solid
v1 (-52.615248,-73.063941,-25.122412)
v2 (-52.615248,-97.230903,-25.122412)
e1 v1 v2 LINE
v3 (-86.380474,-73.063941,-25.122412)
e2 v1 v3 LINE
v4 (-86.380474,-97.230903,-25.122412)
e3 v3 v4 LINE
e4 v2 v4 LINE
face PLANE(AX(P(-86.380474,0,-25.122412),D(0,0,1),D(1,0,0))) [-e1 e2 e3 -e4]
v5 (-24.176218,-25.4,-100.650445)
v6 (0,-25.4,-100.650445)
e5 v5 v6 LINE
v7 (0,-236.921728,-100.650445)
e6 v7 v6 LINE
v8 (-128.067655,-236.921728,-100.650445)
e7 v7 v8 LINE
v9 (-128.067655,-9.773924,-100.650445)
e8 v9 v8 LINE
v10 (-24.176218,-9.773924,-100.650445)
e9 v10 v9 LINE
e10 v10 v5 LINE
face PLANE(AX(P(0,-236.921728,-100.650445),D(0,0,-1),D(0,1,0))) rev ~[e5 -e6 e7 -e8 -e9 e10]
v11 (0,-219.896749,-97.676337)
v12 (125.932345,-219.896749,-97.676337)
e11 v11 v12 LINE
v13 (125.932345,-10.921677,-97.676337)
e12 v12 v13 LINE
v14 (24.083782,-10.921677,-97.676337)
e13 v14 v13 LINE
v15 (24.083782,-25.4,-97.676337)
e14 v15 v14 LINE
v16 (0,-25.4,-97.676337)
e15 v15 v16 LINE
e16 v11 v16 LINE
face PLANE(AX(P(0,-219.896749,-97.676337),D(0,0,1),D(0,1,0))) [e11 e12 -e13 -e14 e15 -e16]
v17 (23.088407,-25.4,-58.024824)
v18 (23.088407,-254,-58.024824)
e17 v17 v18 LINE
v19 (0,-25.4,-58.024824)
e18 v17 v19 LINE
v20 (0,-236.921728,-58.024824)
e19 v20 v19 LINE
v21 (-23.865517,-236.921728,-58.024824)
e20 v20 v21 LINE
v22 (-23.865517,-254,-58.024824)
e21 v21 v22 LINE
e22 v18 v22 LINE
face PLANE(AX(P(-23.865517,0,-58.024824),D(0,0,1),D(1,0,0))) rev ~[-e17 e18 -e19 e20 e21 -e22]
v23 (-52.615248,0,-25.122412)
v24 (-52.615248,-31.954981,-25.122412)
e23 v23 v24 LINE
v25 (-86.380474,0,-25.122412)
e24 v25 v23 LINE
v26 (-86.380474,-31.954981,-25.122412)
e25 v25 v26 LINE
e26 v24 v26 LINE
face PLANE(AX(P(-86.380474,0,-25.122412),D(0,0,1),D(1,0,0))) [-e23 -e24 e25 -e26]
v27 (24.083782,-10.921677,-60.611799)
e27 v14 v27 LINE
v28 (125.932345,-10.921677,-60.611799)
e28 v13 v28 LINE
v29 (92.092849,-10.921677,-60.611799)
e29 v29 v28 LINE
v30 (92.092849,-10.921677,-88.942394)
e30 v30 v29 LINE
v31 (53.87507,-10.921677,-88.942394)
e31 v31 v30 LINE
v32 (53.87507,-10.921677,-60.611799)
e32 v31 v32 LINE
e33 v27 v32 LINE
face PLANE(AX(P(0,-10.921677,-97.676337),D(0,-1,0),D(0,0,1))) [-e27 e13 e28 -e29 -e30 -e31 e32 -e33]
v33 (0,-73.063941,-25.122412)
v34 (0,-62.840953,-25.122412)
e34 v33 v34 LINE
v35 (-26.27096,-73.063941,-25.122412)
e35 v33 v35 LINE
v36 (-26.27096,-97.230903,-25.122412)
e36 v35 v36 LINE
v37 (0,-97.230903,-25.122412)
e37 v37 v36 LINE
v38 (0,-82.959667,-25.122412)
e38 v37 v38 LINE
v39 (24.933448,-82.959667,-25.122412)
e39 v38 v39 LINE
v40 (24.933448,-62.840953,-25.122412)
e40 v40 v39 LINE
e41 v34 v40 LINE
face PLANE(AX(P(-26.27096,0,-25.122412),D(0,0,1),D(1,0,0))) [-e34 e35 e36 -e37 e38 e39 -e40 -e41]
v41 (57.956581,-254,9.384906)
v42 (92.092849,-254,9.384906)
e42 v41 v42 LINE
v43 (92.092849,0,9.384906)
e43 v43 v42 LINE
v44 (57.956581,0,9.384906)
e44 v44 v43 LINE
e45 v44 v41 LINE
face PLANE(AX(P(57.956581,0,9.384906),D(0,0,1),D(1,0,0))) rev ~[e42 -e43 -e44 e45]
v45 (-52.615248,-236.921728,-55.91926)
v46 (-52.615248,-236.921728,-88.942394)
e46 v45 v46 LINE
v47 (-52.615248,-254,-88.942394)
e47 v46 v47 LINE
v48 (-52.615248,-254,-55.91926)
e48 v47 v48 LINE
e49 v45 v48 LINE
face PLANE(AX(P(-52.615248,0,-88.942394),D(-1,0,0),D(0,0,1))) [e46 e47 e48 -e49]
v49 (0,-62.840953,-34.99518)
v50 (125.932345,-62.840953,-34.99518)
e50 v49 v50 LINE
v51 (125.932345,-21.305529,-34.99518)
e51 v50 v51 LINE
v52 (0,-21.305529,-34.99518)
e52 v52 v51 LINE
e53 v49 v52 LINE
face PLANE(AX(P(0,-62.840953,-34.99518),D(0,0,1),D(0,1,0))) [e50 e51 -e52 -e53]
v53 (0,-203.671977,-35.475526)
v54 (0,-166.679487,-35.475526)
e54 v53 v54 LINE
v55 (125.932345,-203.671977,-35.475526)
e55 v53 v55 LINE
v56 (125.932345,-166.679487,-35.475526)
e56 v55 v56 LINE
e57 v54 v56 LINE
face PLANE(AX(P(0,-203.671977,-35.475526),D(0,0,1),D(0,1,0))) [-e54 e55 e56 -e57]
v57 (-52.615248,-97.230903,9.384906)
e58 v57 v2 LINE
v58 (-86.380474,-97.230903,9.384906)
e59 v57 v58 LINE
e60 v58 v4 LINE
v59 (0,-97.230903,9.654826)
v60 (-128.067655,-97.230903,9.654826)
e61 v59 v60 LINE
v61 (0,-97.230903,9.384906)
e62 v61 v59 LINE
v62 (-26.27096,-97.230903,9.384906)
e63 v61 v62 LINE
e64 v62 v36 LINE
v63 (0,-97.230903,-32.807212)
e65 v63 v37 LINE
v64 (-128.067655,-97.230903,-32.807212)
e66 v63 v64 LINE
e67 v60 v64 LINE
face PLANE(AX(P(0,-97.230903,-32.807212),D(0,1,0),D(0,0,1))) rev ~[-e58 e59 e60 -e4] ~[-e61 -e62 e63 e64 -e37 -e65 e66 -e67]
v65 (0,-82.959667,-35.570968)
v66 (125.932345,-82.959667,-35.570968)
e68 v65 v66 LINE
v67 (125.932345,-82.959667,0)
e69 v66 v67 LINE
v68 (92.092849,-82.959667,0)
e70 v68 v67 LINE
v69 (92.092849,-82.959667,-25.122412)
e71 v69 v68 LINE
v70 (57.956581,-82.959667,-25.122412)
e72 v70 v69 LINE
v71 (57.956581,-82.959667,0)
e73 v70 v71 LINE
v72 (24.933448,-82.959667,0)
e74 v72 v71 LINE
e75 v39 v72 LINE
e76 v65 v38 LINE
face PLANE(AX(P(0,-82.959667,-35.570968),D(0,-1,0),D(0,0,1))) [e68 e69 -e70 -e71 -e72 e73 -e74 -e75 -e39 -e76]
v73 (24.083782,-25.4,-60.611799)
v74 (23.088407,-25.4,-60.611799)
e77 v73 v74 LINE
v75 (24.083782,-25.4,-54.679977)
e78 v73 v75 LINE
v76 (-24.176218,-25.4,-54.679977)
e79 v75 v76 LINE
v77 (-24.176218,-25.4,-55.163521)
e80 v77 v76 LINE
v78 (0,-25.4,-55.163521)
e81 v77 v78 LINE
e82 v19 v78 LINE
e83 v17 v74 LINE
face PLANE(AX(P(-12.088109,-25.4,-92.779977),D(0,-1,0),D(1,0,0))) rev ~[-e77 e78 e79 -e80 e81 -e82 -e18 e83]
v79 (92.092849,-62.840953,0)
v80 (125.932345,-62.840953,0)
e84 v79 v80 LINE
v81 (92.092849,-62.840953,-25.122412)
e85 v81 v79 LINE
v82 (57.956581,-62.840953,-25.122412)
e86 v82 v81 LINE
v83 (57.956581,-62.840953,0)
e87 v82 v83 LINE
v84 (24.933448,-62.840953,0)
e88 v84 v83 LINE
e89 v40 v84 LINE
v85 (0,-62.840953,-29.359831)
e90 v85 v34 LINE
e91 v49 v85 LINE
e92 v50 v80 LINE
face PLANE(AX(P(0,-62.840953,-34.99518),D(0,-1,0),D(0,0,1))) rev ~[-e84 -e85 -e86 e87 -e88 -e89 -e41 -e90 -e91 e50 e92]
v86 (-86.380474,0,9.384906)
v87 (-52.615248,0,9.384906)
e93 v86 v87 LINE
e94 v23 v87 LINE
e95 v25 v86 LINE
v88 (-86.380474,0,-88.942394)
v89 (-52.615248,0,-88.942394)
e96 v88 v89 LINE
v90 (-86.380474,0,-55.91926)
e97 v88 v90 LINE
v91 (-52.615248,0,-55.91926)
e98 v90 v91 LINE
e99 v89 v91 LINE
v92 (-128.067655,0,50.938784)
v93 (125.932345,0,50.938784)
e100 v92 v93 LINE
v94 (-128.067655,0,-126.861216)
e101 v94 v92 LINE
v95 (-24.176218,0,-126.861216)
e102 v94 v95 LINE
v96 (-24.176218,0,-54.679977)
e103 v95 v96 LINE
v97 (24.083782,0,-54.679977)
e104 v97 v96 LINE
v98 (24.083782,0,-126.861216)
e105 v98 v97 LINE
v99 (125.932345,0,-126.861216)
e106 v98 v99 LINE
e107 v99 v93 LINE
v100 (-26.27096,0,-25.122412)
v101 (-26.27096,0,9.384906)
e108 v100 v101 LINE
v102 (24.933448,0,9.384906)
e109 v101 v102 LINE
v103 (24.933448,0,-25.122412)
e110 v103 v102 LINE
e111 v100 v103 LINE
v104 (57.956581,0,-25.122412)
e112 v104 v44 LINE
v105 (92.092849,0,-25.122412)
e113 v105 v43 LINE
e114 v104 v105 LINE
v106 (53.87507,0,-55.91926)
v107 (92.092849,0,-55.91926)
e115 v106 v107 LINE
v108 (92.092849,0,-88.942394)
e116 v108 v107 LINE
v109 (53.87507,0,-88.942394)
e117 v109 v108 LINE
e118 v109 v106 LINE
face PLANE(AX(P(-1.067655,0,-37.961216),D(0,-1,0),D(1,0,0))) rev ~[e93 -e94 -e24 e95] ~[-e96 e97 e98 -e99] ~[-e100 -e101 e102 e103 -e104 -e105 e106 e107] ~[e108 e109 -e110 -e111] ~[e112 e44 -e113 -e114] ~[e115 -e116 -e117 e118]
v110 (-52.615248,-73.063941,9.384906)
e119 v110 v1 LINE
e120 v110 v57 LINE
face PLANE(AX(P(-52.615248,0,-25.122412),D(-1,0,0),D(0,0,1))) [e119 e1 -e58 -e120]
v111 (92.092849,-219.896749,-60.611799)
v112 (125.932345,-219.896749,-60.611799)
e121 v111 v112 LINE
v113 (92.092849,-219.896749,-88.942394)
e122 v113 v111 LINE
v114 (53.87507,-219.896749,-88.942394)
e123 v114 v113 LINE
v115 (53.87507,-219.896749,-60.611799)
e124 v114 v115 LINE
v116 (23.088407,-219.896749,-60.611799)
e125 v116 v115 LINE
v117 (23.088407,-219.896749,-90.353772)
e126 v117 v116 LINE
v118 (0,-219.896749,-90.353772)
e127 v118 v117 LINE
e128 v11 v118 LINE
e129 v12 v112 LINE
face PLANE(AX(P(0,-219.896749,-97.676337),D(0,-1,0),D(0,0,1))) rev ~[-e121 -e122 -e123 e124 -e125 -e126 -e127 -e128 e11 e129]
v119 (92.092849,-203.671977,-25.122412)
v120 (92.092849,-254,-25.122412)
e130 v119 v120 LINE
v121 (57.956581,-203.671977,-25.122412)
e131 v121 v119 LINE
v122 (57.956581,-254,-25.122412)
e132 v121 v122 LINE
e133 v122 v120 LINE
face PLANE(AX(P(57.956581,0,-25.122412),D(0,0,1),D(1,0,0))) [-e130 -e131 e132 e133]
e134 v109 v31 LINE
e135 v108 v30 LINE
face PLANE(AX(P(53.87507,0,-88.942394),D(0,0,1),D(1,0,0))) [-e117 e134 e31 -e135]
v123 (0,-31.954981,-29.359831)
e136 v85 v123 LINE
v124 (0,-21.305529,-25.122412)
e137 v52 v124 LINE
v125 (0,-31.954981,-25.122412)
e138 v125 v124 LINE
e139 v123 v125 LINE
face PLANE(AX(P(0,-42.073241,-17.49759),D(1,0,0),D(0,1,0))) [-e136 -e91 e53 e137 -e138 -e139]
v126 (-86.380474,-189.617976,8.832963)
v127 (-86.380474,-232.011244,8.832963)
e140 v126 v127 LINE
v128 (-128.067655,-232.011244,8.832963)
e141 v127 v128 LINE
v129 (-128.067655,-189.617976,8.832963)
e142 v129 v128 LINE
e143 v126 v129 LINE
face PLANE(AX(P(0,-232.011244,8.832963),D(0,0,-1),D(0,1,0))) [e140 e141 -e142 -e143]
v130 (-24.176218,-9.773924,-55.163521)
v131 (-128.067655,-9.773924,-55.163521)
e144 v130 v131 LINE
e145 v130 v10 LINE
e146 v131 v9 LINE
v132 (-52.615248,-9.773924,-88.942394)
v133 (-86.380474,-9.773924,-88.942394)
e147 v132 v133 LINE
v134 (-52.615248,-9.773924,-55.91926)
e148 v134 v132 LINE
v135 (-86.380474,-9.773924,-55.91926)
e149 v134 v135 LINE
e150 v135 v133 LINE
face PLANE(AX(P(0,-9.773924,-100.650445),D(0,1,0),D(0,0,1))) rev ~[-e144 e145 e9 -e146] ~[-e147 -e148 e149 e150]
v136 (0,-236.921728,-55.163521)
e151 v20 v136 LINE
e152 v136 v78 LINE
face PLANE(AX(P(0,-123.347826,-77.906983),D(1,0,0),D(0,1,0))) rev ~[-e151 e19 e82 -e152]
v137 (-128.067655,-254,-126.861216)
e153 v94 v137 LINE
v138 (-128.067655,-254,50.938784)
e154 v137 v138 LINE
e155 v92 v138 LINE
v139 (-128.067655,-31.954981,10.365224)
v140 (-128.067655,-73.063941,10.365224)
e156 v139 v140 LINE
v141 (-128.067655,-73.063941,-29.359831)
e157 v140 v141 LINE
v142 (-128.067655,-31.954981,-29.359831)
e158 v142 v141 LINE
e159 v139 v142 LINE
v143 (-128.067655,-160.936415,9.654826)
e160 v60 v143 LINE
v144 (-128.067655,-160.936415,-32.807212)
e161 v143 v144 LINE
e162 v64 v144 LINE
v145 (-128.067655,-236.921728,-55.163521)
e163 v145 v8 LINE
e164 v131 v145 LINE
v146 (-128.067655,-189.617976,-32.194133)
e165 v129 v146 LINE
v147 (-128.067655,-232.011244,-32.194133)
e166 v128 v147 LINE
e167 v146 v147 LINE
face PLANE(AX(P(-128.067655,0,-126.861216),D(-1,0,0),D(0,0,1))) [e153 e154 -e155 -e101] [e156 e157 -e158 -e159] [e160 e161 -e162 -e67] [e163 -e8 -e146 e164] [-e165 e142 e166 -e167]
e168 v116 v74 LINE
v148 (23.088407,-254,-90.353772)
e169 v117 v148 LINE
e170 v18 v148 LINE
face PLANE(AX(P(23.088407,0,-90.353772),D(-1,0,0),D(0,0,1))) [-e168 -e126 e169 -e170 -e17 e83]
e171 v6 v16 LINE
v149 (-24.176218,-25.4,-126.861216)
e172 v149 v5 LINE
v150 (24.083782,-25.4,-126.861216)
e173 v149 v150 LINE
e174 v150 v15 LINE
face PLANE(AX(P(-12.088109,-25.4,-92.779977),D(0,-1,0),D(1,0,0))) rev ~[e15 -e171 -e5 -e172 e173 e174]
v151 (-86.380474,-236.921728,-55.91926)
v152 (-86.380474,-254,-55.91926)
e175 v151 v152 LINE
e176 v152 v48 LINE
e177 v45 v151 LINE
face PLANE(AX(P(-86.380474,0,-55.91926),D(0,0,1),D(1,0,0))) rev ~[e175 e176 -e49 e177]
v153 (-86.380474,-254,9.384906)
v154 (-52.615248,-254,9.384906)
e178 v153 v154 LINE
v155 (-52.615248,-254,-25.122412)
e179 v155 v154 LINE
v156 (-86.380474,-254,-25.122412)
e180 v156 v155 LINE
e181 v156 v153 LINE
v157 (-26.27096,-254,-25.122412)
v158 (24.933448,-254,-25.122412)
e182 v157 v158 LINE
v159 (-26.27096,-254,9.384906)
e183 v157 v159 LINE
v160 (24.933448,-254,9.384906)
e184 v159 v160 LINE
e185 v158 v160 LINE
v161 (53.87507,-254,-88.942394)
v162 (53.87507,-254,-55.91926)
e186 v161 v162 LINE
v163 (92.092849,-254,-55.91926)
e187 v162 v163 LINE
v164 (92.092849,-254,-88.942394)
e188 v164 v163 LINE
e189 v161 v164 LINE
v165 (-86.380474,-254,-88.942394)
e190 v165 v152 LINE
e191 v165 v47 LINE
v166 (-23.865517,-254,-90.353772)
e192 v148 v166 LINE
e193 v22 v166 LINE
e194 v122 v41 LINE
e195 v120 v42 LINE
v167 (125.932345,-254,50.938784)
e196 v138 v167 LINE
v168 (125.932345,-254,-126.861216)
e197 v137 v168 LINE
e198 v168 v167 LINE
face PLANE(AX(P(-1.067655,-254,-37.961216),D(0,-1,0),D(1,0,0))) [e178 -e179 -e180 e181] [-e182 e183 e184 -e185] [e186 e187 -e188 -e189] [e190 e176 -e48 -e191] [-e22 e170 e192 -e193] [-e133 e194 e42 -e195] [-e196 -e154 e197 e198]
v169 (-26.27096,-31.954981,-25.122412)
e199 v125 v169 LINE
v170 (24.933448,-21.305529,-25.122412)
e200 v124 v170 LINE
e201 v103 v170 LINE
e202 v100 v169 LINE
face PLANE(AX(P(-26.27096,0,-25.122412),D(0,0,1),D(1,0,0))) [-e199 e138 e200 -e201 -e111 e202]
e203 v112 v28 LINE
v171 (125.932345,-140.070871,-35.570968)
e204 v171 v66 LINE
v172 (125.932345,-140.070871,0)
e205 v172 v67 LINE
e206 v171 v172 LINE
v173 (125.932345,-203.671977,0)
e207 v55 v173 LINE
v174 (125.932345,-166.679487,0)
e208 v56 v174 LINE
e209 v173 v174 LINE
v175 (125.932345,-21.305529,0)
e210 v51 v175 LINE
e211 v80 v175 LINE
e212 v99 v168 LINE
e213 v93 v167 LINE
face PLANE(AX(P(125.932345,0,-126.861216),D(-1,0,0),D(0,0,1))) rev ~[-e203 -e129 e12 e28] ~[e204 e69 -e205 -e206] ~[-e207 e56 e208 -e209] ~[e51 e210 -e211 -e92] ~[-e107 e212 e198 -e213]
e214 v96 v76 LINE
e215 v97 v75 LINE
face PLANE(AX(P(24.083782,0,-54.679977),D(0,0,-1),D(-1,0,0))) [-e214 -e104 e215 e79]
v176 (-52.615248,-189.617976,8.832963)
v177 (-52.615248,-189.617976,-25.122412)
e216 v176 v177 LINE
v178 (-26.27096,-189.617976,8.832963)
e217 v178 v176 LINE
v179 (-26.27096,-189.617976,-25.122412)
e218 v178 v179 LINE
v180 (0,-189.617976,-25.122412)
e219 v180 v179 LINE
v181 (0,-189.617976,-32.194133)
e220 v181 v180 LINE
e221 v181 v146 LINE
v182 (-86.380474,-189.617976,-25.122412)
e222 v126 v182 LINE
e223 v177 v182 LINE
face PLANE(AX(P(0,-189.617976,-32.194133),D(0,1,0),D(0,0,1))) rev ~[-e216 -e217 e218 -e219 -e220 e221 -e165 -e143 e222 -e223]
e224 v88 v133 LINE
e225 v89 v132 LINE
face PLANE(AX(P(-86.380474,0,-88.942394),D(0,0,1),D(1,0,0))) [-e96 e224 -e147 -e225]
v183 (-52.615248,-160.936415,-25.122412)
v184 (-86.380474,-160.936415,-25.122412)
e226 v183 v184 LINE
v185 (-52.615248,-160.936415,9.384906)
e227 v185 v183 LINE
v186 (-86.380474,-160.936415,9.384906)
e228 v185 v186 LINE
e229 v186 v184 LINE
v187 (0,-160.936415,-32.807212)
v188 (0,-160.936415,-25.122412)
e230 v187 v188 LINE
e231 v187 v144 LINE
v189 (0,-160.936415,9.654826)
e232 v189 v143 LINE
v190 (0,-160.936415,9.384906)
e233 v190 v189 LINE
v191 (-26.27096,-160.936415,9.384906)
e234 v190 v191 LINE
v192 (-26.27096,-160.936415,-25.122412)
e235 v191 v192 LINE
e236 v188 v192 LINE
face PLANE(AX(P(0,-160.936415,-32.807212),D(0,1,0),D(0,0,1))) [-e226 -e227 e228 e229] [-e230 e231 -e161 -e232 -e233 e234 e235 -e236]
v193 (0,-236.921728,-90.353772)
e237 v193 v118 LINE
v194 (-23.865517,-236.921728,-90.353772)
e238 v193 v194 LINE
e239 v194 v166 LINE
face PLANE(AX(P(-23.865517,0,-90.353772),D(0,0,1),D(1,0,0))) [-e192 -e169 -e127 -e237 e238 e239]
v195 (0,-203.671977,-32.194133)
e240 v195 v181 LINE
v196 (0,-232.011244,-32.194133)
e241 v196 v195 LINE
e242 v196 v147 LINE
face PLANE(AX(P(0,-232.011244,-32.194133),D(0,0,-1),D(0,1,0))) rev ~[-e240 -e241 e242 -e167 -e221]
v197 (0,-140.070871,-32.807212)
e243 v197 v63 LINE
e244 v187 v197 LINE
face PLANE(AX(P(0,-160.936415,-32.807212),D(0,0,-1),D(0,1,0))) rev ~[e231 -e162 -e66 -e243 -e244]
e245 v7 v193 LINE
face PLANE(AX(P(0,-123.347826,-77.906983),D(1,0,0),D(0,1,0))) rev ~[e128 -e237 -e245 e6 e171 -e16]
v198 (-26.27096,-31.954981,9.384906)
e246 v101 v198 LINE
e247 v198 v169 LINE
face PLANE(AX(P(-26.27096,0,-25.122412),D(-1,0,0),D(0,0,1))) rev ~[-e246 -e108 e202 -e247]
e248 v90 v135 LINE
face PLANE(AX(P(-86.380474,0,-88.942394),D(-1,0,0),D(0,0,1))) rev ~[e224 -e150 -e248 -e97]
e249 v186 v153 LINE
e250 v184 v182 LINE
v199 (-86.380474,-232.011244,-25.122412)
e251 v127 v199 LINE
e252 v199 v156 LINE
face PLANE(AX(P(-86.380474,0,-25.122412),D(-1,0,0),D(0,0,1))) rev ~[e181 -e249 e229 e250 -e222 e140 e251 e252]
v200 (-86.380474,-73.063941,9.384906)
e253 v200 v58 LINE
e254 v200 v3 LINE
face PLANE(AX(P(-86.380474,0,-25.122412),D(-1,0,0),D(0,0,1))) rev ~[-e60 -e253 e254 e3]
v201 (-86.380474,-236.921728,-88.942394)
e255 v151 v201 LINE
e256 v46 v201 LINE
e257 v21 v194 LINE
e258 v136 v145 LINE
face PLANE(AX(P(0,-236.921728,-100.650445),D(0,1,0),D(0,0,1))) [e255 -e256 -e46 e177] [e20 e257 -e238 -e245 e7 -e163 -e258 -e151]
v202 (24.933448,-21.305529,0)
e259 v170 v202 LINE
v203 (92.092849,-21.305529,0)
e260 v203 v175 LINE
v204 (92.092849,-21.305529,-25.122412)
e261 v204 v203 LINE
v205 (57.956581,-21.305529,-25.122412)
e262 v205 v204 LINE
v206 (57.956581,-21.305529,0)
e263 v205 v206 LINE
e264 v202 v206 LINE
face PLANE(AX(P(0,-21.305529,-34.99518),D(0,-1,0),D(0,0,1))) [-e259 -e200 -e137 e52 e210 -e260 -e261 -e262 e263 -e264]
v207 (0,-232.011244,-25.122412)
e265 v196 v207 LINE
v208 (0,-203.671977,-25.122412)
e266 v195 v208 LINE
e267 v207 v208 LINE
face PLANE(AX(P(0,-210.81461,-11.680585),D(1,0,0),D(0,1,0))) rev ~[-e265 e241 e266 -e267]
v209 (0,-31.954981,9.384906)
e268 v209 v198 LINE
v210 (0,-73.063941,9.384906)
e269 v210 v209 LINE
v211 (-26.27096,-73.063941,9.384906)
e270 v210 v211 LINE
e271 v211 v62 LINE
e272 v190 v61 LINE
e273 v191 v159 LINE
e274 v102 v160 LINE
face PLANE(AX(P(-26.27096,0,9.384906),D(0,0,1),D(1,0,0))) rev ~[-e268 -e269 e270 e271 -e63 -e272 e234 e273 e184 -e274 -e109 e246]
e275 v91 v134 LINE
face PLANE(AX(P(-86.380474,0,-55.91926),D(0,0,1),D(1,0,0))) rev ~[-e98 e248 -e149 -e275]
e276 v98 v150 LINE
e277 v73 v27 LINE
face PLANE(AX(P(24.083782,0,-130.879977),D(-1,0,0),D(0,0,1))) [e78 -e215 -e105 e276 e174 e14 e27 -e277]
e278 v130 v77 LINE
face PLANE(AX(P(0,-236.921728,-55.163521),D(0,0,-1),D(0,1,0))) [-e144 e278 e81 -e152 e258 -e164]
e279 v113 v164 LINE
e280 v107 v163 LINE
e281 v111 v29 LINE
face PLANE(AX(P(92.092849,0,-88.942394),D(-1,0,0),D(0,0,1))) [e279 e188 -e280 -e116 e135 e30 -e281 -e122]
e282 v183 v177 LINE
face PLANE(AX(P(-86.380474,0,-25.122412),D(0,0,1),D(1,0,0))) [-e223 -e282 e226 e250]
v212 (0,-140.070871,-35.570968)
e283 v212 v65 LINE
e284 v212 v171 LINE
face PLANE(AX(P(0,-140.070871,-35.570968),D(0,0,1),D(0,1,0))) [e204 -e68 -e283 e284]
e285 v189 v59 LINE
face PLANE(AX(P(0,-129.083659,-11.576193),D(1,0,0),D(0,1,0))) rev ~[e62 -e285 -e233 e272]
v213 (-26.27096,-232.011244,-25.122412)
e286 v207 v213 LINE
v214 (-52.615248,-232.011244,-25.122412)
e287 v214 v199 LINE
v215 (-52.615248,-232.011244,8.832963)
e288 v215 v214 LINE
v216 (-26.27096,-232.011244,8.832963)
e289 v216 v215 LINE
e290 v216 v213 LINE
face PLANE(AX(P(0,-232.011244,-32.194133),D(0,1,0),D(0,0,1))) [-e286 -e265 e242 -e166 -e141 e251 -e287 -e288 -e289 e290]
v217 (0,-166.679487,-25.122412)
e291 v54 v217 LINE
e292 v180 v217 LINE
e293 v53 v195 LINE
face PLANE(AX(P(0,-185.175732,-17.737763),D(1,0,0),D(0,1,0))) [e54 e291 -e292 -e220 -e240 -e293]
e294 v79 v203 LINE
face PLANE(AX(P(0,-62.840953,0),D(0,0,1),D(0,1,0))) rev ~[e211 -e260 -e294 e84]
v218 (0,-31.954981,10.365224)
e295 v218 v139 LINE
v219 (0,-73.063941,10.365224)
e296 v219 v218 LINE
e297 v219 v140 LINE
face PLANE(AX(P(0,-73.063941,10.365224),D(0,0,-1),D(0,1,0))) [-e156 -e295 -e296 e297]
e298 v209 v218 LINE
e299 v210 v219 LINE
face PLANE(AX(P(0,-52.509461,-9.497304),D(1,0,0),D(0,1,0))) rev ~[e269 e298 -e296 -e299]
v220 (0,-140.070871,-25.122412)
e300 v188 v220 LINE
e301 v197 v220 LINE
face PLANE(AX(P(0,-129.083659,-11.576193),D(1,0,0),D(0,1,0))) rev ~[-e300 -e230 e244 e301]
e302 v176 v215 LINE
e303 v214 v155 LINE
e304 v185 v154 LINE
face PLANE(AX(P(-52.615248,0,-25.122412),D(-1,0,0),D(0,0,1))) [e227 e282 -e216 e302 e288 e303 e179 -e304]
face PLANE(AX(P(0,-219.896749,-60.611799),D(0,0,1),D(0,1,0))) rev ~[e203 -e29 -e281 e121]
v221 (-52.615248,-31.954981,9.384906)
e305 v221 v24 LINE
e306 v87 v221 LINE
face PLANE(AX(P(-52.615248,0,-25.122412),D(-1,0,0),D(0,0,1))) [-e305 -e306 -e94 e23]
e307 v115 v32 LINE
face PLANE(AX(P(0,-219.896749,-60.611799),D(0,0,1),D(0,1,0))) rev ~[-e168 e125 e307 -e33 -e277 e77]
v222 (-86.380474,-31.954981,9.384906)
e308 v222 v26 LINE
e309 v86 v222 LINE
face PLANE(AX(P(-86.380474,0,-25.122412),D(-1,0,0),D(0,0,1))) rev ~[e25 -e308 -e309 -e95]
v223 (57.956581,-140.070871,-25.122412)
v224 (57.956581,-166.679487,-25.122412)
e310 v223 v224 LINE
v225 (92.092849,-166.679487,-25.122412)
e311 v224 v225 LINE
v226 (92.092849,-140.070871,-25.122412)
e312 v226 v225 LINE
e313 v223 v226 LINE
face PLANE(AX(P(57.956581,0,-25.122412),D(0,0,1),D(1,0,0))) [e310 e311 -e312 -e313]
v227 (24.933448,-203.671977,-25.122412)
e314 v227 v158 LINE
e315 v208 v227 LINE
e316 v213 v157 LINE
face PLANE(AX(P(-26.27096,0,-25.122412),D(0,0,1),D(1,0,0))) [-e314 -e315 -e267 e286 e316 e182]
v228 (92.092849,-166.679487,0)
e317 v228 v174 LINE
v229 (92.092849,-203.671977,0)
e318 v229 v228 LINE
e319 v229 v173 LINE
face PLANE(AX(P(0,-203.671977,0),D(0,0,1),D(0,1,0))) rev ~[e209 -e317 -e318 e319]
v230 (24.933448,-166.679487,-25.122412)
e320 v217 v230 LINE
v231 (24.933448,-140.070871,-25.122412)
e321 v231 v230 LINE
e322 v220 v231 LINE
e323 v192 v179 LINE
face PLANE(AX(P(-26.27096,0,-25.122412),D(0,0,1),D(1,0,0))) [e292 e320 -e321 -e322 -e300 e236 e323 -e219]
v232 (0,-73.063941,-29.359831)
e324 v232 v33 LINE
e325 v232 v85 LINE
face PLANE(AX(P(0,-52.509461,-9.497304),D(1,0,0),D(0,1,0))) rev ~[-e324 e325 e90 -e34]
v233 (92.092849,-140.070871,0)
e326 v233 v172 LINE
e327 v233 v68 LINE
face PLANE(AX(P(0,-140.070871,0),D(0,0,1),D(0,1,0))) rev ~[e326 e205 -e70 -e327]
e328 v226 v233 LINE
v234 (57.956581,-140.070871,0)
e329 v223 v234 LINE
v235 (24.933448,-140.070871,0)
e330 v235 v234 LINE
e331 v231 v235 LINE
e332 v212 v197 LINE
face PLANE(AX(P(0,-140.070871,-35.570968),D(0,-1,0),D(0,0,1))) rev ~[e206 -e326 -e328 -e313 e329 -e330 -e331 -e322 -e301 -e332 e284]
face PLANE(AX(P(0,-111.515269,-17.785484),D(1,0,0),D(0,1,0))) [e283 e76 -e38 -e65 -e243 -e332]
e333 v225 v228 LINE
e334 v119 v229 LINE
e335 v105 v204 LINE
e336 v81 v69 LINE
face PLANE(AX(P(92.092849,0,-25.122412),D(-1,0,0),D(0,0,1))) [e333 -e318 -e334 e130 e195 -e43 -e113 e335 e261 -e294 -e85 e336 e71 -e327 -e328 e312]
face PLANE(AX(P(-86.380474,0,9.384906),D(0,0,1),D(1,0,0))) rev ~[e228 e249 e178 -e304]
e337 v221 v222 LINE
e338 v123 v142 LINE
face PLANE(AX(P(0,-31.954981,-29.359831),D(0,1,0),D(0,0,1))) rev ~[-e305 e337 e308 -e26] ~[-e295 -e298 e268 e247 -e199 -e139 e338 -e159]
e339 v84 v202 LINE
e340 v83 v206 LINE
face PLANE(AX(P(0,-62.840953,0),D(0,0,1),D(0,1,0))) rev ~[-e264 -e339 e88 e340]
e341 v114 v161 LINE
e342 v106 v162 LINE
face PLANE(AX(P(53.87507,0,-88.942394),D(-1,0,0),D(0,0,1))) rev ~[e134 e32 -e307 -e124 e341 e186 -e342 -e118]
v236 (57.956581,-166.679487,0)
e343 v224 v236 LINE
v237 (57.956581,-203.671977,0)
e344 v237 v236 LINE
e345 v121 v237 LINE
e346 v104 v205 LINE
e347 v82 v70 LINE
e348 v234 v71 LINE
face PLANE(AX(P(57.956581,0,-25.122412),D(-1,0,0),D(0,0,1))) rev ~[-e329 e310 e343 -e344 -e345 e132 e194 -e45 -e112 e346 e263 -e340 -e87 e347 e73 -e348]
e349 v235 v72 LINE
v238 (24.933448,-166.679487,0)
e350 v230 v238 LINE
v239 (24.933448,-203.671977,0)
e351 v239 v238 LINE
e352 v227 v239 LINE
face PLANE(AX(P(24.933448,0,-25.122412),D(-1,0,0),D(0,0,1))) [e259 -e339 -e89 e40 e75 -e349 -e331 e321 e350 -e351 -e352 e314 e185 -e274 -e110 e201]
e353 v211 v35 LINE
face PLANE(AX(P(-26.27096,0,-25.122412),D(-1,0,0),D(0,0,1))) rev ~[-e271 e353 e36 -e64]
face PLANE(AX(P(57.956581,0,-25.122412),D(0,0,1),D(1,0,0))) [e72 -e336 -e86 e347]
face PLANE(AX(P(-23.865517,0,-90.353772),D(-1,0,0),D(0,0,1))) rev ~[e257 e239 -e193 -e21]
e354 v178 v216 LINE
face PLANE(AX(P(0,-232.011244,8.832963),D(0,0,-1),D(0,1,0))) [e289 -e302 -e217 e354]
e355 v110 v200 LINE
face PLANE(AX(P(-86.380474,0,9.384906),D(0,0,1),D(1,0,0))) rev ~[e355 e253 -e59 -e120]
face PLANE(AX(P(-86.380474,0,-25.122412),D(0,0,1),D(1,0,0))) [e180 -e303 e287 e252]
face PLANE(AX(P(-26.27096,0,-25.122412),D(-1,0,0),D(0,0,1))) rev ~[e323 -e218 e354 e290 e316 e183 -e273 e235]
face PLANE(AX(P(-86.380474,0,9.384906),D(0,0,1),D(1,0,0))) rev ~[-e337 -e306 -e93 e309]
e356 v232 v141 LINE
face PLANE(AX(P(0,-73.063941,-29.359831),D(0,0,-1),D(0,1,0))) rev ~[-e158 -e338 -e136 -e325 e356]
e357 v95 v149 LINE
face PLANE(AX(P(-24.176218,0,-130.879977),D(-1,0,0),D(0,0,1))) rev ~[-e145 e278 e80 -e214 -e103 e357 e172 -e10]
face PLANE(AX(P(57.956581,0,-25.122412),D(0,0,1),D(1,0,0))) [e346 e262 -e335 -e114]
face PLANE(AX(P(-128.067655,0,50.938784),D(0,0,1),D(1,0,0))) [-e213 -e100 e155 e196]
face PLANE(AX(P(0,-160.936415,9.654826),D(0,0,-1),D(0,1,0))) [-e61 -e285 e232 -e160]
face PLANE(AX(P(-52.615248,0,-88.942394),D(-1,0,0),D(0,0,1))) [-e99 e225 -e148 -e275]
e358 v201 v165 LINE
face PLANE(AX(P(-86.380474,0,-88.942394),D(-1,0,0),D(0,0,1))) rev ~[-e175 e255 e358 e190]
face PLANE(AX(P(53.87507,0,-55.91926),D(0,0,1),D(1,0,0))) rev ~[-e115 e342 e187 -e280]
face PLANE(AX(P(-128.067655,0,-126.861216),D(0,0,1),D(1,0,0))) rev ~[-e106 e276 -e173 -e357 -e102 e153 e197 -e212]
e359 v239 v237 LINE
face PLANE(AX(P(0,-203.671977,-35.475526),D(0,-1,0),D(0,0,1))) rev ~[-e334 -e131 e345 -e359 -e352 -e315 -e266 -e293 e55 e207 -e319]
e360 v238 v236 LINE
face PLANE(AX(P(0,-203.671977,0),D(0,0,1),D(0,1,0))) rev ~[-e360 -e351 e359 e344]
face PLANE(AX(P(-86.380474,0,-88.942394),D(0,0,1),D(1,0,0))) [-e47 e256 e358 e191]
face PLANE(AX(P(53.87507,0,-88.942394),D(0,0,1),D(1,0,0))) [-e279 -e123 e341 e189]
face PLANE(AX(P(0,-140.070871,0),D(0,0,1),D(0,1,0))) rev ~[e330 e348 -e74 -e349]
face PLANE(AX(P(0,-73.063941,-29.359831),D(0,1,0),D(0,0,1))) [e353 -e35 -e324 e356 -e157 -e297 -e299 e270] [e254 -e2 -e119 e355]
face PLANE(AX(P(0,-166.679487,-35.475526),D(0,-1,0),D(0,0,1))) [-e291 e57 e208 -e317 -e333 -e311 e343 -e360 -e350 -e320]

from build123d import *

# Parameters (mm, degrees)
F0_W      = 254
F0_H      = 177.8
F1_DEPTH  = 254
F2_W      = 24.176218
F2_H      = 76.2
F2_W_2    = 24.083782
F3_DEPTH  = 25.4
F4_W      = 33.765226
F4_H      = 33.023134
F4_W_2    = 38.217779
F4_W_3    = 34.136269
F4_H_2    = 34.507318
F4_W_4    = 51.204408
F5_DEPTH  = 254
F6_W      = 46.953924
F6_H      = 32.328948
F7_DEPTH  = 508
F8_W      = 227.147804
F8_H      = 45.486924
F8_W_2    = 42.393267
F8_H_2    = 41.027097
F8_W_3    = 63.705511
F8_H_3    = 42.462038
F8_W_4    = 41.108959
F8_H_4    = 39.725055
F9_DEPTH  = 254
F10_W     = 208.975072
F10_H     = 37.064538
F10_W_2   = 36.99249
F10_H_2   = 35.475526
F10_W_3   = 57.111204
F10_H_3   = 35.570968
F10_W_4   = 41.535424
F10_H_4   = 34.99518
F11_DEPTH = 127


with BuildPart() as f1:
    # F0 (on Front) → F1 (new body)
    with BuildSketch(Plane.XZ):
        with Locations((-1.067655, -37.961216)):
            Rectangle(F0_W, F0_H)
    extrude(amount=F1_DEPTH)

    # F2 (on Front) → F3 (cut)
    with BuildSketch(Plane.XZ):
        with Locations((-12.088109, -92.779977)):
            Rectangle(F2_W, F2_H)
        with Locations((12.041891, -92.779977)):
            Rectangle(F2_W_2, F2_H)
    extrude(amount=F3_DEPTH, mode=Mode.SUBTRACT)

    # F4 (on Front) → F5 (cut)
    with BuildSketch(Plane.XZ):
        with Locations((-69.497861, -72.430827)):
            Rectangle(F4_W, F4_H)
        with Locations((72.983959, -72.430827)):
            Rectangle(F4_W_2, F4_H)
        with Locations((75.024715, -7.868753)):
            Rectangle(F4_W_3, F4_H_2)
        with Locations((-69.497861, -7.868753)):
            Rectangle(F4_W, F4_H_2)
        with Locations((-0.668756, -7.868753)):
            Rectangle(F4_W_4, F4_H_2)
    extrude(amount=F5_DEPTH, mode=Mode.SUBTRACT)

    # F6 (on Front) → F7 (cut)
    with BuildSketch(Plane.XZ):
        with Locations((-0.388555, -74.189298)):
            Rectangle(F6_W, F6_H)
    extrude(amount=F7_DEPTH, mode=Mode.SUBTRACT)

    # F8 (on Right) → F9 (cut)
    with BuildSketch(Plane.YZ):
        with Locations((-123.347826, -77.906983)):
            Rectangle(F8_W, F8_H)
        with Locations((-210.81461, -11.680585)):
            Rectangle(F8_W_2, F8_H_2)
        with Locations((-129.083659, -11.576193)):
            Rectangle(F8_W_3, F8_H_3)
        with Locations((-52.509461, -9.497304)):
            Rectangle(F8_W_4, F8_H_4)
    extrude(amount=-F9_DEPTH, mode=Mode.SUBTRACT)

    # F10 (on Right) → F11 (cut)
    with BuildSketch(Plane.YZ):
        with Locations((-115.409213, -79.144068)):
            Rectangle(F10_W, F10_H)
        with Locations((-185.175732, -17.737763)):
            Rectangle(F10_W_2, F10_H_2)
        with Locations((-111.515269, -17.785484)):
            Rectangle(F10_W_3, F10_H_3)
        with Locations((-42.073241, -17.49759)):
            Rectangle(F10_W_4, F10_H_4)
    extrude(amount=F11_DEPTH, mode=Mode.SUBTRACT)


solid = f1.part
